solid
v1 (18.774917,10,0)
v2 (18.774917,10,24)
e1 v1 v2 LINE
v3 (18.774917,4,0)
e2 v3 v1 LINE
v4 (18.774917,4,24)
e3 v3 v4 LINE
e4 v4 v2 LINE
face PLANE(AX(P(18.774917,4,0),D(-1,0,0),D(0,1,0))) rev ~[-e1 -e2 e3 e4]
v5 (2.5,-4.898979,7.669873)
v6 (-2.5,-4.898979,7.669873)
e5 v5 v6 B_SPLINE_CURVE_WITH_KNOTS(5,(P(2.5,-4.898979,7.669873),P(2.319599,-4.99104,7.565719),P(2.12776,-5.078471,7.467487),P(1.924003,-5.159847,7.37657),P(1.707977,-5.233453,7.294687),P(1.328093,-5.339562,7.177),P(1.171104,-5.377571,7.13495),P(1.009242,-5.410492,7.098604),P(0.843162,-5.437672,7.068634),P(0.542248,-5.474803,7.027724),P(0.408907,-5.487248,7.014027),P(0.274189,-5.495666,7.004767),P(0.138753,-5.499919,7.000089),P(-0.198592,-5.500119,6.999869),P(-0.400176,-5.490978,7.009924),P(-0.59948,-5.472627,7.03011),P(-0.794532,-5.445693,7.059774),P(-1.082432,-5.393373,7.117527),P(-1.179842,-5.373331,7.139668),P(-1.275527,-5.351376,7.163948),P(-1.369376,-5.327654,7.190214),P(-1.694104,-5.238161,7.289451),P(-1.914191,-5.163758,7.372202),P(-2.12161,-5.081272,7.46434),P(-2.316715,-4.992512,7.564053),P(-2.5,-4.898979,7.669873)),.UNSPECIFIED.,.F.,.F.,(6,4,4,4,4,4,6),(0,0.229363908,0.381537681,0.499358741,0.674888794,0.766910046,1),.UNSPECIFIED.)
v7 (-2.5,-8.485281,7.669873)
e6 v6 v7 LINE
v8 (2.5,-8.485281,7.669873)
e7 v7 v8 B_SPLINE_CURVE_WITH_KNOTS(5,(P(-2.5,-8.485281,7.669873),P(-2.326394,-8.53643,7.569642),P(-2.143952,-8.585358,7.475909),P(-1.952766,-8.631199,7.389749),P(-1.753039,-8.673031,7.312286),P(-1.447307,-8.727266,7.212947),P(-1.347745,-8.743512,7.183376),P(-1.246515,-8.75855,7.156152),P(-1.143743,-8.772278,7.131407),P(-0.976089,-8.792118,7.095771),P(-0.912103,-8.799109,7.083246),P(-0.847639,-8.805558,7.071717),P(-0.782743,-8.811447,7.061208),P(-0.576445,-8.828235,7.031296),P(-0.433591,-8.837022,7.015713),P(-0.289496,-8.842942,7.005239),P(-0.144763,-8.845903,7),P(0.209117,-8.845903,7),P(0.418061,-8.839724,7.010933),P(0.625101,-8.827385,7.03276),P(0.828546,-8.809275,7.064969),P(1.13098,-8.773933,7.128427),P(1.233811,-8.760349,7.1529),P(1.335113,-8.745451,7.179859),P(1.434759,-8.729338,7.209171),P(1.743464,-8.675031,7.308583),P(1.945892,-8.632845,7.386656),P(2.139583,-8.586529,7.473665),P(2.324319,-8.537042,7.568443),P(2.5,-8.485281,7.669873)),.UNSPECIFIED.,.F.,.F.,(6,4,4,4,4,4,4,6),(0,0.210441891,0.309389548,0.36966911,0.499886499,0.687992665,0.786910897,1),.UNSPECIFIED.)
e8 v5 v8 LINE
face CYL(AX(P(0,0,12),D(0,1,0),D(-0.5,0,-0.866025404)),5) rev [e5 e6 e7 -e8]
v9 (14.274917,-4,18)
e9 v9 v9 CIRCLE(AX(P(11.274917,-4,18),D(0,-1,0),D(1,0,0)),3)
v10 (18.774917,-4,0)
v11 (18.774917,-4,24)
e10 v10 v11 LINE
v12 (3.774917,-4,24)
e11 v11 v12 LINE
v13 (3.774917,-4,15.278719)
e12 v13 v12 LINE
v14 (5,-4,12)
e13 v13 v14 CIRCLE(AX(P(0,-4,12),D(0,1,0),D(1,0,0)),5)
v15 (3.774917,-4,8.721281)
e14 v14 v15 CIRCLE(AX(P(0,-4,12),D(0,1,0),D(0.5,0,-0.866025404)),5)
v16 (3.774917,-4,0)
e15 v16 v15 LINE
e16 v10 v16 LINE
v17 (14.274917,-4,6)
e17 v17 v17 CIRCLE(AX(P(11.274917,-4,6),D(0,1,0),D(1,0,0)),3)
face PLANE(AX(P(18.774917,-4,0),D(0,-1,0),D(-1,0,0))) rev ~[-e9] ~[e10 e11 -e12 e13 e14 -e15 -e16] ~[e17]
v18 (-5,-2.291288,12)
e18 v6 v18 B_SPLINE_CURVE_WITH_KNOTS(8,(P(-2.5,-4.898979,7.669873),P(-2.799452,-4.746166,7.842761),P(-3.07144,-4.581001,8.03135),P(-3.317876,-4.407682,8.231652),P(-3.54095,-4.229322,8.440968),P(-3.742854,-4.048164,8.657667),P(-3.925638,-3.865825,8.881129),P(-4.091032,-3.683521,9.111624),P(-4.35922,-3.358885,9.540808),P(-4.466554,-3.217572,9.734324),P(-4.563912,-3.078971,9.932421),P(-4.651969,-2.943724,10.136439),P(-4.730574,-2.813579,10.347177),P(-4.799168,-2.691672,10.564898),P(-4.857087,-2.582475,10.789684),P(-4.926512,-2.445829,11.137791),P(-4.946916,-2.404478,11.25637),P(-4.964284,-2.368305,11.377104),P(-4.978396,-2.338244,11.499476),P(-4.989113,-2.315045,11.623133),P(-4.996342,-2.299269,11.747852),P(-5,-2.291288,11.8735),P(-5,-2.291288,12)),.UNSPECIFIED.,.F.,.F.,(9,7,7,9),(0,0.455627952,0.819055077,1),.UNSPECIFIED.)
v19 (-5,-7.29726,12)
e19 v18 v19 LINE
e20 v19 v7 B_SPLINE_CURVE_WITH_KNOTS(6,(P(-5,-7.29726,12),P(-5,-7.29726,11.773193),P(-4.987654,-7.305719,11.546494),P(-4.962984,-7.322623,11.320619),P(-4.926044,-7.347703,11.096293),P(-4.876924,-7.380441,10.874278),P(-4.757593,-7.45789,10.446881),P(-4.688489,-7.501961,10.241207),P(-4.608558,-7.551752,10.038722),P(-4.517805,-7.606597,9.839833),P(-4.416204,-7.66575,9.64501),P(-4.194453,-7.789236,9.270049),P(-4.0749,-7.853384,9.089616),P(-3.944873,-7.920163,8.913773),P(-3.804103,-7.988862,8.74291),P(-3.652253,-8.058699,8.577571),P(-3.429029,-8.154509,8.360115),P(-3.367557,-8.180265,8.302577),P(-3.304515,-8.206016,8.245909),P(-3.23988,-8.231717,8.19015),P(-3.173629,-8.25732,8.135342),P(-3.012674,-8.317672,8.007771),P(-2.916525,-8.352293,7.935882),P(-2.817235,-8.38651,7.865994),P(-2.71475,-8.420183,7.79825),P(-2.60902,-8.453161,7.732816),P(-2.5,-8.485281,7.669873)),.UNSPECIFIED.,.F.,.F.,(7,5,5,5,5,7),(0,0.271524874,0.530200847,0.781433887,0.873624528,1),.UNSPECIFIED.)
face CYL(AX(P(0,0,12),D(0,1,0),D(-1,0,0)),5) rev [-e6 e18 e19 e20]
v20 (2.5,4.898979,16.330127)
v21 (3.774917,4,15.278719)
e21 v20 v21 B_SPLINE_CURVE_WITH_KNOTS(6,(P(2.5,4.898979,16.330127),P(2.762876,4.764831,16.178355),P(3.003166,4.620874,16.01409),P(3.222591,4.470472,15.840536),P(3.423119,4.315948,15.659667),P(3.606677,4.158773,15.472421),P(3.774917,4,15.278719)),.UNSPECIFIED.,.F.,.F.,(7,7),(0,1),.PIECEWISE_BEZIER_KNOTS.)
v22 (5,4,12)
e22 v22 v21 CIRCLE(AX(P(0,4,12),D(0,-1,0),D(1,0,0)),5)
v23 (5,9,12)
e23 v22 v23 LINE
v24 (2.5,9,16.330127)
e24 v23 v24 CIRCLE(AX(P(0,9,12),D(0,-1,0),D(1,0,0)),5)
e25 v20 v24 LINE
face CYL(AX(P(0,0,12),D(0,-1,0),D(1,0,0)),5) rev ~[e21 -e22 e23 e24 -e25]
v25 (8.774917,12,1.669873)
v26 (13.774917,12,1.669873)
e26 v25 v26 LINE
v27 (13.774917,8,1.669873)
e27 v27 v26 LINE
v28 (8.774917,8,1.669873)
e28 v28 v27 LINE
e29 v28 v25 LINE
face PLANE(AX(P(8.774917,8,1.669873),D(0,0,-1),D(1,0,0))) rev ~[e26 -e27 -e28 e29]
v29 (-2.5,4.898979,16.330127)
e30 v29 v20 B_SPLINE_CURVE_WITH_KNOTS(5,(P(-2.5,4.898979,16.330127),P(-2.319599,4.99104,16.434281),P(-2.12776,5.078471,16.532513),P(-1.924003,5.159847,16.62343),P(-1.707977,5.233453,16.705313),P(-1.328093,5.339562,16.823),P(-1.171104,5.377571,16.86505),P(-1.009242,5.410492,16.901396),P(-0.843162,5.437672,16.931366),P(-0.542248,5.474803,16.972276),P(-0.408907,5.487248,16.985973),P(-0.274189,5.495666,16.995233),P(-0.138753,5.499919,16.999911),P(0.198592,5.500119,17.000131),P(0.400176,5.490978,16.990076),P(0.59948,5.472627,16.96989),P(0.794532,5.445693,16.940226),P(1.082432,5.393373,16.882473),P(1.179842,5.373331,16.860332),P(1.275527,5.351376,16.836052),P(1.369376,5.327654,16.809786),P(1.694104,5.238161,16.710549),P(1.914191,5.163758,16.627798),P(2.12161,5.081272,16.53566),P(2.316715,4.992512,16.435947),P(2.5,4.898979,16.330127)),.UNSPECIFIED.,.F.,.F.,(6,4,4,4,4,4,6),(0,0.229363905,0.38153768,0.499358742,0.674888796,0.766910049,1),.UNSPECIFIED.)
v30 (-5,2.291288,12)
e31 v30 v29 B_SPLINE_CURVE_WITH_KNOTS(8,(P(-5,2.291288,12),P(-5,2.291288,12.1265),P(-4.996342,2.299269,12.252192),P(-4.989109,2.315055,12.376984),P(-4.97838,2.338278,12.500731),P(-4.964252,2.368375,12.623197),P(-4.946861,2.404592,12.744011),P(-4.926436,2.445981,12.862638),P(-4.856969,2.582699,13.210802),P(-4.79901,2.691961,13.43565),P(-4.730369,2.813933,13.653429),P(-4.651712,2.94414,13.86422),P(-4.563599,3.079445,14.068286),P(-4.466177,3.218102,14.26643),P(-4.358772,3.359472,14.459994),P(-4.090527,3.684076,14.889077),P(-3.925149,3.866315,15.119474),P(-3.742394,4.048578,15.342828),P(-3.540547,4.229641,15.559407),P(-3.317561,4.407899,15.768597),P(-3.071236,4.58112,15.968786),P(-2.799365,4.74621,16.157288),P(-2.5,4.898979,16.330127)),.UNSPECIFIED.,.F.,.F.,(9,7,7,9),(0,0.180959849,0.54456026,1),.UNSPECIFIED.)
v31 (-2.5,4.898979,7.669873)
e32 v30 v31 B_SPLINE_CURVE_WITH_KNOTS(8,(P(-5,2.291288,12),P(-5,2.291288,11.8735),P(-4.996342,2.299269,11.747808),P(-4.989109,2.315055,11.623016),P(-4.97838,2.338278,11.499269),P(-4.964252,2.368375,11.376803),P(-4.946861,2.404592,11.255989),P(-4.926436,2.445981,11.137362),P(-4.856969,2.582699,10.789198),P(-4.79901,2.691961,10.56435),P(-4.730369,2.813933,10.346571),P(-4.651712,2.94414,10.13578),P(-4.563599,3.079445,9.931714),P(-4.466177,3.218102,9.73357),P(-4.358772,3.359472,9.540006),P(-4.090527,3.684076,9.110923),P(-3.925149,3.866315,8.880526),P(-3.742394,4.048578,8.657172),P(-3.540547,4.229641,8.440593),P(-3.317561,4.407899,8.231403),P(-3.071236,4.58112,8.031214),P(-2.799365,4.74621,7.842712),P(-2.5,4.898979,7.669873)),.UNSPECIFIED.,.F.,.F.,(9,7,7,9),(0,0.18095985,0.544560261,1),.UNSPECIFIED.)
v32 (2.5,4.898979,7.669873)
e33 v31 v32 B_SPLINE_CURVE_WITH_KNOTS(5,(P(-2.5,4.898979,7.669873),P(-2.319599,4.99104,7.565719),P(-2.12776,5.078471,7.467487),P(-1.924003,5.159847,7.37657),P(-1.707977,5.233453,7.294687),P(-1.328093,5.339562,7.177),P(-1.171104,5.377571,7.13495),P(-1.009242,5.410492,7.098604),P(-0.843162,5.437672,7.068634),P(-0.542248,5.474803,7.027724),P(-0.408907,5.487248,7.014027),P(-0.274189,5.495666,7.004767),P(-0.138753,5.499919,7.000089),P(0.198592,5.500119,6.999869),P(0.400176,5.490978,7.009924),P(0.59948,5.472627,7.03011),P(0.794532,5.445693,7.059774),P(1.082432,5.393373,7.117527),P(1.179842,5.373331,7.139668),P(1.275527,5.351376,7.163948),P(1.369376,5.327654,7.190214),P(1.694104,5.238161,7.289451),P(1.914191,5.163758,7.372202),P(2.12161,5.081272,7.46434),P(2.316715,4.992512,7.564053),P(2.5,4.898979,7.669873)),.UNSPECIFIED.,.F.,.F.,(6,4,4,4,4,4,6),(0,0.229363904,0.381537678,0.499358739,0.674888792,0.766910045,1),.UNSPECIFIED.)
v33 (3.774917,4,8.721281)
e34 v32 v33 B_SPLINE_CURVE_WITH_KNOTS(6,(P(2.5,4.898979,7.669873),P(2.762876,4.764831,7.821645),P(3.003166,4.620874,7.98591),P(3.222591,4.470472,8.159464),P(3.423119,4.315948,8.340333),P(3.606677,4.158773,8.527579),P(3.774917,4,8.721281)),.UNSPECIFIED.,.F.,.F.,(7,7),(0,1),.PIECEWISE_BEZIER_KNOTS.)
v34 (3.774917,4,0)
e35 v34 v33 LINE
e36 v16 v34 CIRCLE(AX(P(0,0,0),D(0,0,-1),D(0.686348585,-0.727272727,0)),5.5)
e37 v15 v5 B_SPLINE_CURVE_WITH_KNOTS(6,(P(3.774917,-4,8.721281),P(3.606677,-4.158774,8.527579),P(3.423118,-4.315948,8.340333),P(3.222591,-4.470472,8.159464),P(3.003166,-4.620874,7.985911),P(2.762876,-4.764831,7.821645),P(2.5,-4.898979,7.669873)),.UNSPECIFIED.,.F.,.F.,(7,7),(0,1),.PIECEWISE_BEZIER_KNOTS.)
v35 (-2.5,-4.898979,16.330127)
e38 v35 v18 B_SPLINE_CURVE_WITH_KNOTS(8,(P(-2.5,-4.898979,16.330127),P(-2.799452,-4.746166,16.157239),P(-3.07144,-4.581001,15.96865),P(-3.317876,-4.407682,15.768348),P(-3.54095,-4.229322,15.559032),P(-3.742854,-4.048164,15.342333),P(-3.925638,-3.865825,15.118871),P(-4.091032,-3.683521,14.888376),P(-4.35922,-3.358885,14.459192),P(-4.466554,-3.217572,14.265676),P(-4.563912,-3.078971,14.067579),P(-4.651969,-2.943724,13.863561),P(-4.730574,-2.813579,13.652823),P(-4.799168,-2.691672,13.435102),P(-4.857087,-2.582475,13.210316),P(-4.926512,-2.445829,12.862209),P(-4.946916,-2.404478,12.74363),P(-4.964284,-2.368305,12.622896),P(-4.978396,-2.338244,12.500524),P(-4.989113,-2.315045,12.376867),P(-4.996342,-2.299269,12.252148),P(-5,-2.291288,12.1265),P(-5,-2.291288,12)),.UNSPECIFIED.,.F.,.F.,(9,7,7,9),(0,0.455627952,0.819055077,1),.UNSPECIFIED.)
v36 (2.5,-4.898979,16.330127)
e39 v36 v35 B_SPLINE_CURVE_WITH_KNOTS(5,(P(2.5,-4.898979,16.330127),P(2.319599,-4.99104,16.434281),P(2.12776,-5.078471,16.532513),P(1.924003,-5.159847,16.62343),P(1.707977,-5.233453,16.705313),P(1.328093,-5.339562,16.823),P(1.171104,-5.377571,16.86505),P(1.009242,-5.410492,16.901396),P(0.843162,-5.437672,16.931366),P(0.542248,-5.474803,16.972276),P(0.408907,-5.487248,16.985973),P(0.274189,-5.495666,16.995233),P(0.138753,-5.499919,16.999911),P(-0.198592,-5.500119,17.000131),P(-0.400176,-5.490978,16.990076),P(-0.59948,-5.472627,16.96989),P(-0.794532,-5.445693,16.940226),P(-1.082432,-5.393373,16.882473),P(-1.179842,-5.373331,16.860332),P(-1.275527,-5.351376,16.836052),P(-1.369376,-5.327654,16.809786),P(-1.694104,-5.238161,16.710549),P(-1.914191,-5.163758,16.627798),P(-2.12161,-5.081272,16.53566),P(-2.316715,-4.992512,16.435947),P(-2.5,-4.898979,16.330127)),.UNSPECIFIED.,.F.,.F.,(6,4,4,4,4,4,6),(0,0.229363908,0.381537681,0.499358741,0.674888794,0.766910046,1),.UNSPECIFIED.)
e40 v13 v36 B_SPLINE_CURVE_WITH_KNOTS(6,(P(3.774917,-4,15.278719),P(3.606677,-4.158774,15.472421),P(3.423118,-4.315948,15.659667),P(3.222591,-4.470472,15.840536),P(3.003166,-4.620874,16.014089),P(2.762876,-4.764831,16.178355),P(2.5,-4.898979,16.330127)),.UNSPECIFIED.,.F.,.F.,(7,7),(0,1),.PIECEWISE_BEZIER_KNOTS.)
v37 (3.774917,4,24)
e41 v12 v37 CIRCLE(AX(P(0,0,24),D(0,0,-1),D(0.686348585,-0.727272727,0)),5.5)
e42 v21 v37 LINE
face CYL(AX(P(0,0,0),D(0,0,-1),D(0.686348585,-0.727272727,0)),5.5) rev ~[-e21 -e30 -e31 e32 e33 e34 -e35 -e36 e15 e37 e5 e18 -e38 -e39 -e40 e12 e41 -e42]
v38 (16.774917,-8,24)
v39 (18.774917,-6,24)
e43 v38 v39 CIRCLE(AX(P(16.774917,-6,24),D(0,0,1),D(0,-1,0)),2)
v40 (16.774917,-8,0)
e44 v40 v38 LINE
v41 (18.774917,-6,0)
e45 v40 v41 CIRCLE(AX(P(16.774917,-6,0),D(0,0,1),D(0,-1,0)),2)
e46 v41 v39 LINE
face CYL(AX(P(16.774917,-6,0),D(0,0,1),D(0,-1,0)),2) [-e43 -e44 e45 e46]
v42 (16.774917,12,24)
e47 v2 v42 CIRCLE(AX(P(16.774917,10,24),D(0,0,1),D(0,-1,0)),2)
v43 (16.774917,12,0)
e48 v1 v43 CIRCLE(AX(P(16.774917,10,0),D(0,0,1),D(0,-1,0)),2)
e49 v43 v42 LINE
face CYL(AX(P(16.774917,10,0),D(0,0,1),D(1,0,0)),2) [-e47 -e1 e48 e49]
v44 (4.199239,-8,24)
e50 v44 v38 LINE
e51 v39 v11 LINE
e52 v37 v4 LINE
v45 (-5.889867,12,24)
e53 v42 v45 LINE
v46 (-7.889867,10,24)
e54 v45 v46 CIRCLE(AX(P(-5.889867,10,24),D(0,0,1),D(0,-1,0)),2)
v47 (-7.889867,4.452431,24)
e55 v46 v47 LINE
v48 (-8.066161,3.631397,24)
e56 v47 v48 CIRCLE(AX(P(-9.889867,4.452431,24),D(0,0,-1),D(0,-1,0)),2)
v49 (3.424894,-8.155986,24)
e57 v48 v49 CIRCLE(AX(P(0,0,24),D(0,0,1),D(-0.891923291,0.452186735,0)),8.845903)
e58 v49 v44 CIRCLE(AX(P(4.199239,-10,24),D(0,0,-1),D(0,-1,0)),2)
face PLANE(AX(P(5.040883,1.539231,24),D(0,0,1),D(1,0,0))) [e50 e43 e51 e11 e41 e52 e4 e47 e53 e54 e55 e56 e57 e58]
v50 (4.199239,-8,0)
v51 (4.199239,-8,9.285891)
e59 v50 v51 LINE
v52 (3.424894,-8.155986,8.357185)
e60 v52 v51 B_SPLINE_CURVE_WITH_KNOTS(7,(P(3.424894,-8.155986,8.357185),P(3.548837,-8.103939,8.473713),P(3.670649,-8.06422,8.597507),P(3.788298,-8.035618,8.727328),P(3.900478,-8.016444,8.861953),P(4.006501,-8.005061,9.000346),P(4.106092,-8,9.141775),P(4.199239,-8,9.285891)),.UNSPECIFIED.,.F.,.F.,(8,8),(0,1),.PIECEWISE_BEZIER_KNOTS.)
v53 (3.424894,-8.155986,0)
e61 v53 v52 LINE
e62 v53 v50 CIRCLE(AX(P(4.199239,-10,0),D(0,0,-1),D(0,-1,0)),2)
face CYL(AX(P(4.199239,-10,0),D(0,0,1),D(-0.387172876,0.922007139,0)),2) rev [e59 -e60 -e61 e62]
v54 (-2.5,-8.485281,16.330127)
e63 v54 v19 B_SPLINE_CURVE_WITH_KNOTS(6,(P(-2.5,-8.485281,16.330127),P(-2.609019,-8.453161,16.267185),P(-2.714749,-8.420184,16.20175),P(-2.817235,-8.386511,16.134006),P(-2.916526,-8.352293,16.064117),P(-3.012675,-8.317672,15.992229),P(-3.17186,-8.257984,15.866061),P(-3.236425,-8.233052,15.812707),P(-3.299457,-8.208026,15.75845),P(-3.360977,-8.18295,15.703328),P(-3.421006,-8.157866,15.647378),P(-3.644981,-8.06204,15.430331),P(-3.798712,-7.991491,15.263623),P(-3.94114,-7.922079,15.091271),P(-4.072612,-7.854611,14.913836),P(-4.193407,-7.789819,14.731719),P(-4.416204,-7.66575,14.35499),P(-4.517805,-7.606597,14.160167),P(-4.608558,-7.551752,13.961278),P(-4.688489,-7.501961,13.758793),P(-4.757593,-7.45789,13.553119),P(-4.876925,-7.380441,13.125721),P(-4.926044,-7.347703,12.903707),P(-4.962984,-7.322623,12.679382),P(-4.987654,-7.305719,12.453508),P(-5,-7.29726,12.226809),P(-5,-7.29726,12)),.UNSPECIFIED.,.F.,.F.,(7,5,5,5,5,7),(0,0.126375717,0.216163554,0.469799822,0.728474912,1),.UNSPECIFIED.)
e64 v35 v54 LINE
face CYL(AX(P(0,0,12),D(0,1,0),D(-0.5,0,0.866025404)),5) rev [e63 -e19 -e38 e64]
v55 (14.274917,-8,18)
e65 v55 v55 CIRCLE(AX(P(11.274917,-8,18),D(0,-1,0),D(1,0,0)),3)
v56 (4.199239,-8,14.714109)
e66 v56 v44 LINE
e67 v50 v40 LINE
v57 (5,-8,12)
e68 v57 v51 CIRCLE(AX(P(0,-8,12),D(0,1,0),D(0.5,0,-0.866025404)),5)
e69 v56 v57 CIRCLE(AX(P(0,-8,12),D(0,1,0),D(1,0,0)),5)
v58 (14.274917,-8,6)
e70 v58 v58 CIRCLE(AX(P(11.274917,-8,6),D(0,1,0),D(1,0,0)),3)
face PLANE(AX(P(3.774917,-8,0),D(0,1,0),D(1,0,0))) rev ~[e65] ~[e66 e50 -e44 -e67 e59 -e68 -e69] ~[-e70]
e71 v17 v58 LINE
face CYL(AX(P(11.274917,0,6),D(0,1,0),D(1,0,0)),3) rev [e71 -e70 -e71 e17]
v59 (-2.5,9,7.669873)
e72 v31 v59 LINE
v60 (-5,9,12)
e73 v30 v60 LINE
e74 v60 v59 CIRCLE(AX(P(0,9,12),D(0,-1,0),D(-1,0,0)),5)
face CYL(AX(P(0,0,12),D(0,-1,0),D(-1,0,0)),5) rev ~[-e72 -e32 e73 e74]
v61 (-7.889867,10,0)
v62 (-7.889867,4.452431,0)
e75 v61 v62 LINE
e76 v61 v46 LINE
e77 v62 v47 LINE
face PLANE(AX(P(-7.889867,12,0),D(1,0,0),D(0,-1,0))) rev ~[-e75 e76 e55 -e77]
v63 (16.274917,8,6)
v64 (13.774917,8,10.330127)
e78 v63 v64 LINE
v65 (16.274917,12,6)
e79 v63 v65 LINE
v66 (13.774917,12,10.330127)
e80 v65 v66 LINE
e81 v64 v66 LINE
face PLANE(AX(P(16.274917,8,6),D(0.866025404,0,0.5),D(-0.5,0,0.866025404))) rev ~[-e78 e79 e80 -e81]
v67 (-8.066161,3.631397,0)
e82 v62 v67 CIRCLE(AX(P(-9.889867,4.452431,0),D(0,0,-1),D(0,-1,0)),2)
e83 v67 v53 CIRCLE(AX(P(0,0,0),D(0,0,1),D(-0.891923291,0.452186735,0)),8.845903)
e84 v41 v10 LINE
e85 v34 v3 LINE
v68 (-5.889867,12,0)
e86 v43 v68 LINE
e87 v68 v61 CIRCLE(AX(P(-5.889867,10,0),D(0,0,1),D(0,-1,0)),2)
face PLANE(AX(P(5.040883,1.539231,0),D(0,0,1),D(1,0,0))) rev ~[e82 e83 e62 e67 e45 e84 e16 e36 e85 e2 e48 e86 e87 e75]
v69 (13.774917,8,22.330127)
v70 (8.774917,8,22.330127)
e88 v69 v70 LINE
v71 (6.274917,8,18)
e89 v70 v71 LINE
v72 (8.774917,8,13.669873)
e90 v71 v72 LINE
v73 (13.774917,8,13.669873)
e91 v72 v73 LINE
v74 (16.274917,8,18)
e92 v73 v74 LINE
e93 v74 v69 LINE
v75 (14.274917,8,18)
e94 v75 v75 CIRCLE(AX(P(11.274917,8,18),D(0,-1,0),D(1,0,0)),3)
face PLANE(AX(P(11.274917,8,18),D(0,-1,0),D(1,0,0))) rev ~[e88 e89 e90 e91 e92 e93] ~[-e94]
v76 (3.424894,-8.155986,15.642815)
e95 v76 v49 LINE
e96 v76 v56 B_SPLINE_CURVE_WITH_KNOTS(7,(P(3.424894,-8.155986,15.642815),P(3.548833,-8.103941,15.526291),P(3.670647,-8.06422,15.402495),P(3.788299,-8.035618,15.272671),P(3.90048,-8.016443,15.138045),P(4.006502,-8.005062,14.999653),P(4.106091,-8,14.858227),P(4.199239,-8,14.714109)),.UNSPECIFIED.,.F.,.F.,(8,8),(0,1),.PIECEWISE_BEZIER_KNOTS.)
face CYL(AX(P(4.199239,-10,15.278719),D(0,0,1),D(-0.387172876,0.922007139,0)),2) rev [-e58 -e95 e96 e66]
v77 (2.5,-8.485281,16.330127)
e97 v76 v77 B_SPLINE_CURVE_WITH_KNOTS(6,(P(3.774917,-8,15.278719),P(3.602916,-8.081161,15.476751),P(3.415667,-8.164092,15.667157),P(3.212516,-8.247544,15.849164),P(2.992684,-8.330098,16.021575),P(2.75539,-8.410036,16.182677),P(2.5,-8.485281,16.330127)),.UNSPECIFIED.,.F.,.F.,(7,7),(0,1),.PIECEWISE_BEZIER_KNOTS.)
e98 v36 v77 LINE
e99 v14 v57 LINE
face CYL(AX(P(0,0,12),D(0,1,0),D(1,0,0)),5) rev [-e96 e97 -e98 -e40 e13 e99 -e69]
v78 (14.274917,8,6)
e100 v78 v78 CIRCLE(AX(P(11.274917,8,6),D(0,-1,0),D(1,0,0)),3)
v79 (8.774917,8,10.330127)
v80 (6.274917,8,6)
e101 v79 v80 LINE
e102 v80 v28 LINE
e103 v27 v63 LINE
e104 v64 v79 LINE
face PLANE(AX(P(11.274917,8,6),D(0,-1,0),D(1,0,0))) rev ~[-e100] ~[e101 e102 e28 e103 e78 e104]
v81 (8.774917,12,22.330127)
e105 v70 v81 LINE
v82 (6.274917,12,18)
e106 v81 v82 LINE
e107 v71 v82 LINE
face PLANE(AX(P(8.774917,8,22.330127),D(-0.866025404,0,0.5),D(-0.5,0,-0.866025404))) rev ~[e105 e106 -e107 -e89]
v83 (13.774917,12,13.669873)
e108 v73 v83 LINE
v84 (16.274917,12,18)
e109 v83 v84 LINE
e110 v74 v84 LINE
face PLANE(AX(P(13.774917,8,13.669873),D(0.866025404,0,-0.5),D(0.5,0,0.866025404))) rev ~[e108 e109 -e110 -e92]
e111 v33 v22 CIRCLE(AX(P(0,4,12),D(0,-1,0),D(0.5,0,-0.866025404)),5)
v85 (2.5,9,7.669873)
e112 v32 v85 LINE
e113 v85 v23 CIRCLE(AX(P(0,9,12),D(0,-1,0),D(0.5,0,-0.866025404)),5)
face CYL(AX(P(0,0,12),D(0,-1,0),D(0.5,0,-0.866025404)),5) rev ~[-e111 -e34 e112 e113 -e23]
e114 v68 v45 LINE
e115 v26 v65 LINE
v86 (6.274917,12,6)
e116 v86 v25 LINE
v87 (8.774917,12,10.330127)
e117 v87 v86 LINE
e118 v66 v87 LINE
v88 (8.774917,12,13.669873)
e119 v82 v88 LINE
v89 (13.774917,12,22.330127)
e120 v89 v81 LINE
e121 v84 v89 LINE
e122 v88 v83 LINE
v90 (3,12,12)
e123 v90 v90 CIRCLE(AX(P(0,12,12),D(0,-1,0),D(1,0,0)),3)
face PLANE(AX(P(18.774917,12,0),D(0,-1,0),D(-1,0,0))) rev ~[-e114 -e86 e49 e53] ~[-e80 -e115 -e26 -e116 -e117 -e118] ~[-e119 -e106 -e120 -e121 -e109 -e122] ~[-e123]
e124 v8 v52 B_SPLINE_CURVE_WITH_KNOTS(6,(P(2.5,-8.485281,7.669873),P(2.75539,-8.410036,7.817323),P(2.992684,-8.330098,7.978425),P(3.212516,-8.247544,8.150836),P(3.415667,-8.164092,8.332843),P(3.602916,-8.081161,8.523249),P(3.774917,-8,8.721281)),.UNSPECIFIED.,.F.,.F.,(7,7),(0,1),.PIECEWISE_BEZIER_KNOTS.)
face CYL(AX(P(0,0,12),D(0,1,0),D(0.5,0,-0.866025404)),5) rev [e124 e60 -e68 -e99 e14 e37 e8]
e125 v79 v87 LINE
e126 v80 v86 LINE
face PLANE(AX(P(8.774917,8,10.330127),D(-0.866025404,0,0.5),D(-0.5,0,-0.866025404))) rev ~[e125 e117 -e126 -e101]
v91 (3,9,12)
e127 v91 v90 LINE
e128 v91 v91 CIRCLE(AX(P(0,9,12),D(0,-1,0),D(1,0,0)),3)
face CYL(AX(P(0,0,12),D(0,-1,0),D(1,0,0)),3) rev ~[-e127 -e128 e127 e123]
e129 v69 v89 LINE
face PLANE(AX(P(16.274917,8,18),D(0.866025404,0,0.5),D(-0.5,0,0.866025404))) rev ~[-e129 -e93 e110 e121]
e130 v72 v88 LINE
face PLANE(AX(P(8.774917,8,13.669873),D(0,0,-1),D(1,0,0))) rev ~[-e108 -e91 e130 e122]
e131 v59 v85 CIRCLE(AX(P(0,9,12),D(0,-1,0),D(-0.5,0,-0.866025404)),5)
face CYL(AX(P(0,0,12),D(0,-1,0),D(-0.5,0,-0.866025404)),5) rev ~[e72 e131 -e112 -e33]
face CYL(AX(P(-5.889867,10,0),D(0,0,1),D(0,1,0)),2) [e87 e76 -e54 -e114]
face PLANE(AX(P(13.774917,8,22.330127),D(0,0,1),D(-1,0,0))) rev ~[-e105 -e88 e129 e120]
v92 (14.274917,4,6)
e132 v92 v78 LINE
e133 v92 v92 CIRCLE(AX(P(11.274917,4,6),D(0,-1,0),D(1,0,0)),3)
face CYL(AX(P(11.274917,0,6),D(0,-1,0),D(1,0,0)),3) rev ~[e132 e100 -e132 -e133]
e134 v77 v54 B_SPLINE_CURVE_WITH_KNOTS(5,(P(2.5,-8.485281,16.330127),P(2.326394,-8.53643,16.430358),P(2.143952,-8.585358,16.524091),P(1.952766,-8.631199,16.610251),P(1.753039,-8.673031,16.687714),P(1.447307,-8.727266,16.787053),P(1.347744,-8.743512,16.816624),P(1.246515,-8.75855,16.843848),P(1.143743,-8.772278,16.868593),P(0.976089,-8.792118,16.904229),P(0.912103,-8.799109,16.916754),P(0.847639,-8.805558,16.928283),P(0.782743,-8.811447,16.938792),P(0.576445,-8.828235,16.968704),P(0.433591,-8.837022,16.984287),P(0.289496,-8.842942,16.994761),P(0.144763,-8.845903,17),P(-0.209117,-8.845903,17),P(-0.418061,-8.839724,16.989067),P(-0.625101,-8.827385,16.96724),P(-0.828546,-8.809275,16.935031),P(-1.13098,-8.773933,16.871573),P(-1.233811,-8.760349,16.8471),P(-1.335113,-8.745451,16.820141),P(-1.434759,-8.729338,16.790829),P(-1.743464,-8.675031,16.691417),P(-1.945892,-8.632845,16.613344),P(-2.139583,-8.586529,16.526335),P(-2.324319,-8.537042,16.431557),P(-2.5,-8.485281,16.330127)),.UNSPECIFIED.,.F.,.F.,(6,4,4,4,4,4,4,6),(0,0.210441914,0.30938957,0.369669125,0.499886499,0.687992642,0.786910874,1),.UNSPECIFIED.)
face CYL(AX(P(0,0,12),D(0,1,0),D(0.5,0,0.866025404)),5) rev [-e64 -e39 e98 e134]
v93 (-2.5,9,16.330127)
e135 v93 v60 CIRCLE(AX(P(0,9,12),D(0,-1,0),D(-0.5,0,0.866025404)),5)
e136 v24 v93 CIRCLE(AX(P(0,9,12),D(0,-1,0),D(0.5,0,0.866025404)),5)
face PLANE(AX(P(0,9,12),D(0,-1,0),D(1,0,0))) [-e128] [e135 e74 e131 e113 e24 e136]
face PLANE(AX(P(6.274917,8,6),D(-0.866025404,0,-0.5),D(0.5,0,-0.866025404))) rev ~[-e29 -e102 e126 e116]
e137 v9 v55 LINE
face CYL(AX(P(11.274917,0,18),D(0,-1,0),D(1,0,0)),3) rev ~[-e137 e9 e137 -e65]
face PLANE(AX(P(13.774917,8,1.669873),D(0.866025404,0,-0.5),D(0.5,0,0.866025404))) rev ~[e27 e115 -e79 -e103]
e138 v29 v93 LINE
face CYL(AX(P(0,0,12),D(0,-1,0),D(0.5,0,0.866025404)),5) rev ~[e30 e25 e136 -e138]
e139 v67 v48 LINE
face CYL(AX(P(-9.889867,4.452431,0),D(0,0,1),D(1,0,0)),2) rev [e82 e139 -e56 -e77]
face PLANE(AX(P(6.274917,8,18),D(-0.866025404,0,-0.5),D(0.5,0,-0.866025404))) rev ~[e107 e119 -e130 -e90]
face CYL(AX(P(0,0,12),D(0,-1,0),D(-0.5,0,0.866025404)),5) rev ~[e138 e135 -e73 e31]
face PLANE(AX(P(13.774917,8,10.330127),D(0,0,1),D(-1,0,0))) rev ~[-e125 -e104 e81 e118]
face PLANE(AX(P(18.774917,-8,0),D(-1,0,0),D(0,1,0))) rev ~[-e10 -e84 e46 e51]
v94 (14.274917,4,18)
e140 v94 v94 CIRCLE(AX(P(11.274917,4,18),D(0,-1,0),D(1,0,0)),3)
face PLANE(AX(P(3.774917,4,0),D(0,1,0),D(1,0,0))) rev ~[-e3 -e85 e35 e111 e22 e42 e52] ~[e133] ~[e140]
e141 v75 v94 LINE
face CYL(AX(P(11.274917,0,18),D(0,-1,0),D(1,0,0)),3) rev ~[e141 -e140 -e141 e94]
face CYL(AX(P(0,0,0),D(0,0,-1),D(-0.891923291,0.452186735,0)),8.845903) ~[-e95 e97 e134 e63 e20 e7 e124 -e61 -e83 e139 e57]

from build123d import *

# Parameters (mm, degrees)
F1_DEPTH = 24
F2_R     = 3
F3_DEPTH = 25
F4_START = -8
F4_DEPTH = 17
F5_DEPTH = 25
F6_DEPTH = 9
F7_DEPTH = 25
F8_R     = 2


with BuildPart() as f1:
    # F0 (on Top) → F1 (new body)
    with BuildSketch(Plane.XY):
        with BuildLine():
            ThreePointArc((3.7749172176, -4), (-5.5, 0), (3.7749172176, 4))
            Line((3.7749172176, 4), (18.7749172176, 4))
            Line((18.7749172176, 4), (18.7749172176, 8))
            Line((18.7749172176, 8), (18.7749172176, 12))
            Line((18.7749172176, 12), (3.7749172176, 12))
            Line((3.7749172176, 12), (-7.889866919, 12))
            Line((-7.889866919, 12), (-7.889866919, 4))
            ThreePointArc((-7.889866919, 4), (-6.3429648242, -6.1657762884), (3.7749172176, -8))
            Line((3.7749172176, -8), (18.7749172176, -8))
            Line((18.7749172176, -8), (18.7749172176, -4))
            Line((18.7749172176, -4), (3.7749172176, -4))
        make_face()
    extrude(amount=F1_DEPTH)

    # F2 (on Front) → F3 (cut, symmetric)
    with BuildSketch(Plane.XZ):
        with Locations((11.2749172176, 6)):
            Circle(F2_R)
        with Locations((11.2749172176, 18)):
            Circle(F2_R)
    extrude(amount=F3_DEPTH, both=True, mode=Mode.SUBTRACT)

    # F2 (on Front) → F4 (cut)
    with BuildSketch(Plane.XZ.offset(F4_START)):
        Polygon((13.7749172176, 13.6698729811), (16.2749172176, 18), (13.7749172176, 22.3301270189), (8.7749172176, 22.3301270189), (6.2749172176, 18), (8.7749172176, 13.6698729811), align=None)
        with Locations((11.2749172176, 18)):
            Circle(F2_R, mode=Mode.SUBTRACT)
        Polygon((8.7749172176, 10.3301270189), (6.2749172176, 6), (8.7749172176, 1.6698729811), (13.7749172176, 1.6698729811), (16.2749172176, 6), (13.7749172176, 10.3301270189), align=None)
        with Locations((11.2749172176, 6)):
            Circle(F2_R, mode=Mode.SUBTRACT)
    extrude(amount=-F4_DEPTH, mode=Mode.SUBTRACT)

    # F2 (on Front) → F5 (cut)
    with BuildSketch(Plane.XZ):
        with Locations((0, 12)):
            Circle(F2_R)
    extrude(amount=-F5_DEPTH, mode=Mode.SUBTRACT)

    # F2 (on Front) → F6 (cut)
    with BuildSketch(Plane.XZ):
        Polygon((2.5, 7.6698729811), (5, 12), (2.5, 16.3301270189), (-2.5, 16.3301270189), (-5, 12), (-2.5, 7.6698729811), align=None)
        with Locations((0, 12)):
            Circle(F2_R, mode=Mode.SUBTRACT)
        with Locations((0, 12)):
            Circle(F2_R)
        with BuildLine():
            ThreePointArc((2.5, 7.6698729811), (4.3301270189, 9.5), (5, 12))
            Line((5, 12), (2.5, 7.6698729811))
        make_face()
        with BuildLine():
            Line((2.5, 16.3301270189), (5, 12))
            ThreePointArc((5, 12), (4.3301270189, 14.5), (2.5, 16.3301270189))
        make_face()
        with BuildLine():
            Line((-2.5, 16.3301270189), (2.5, 16.3301270189))
            ThreePointArc((2.5, 16.3301270189), (0, 17), (-2.5, 16.3301270189))
        make_face()
        with BuildLine():
            Line((-5, 12), (-2.5, 16.3301270189))
            ThreePointArc((-2.5, 16.3301270189), (-4.3301270189, 14.5), (-5, 12))
        make_face()
        with BuildLine():
            ThreePointArc((-5, 12), (-4.3301270189, 9.5), (-2.5, 7.6698729811))
            Line((-2.5, 7.6698729811), (-5, 12))
        make_face()
        with BuildLine():
            ThreePointArc((-2.5, 7.6698729811), (0, 7), (2.5, 7.6698729811))
            Line((2.5, 7.6698729811), (-2.5, 7.6698729811))
        make_face()
    extrude(amount=-F6_DEPTH, mode=Mode.SUBTRACT)

    # F2 (on Front) → F7 (cut)
    with BuildSketch(Plane.XZ):
        with BuildLine():
            Line((-2.5, 16.3301270189), (2.5, 16.3301270189))
            ThreePointArc((2.5, 16.3301270189), (0, 17), (-2.5, 16.3301270189))
        make_face()
        Polygon((2.5, 7.6698729811), (5, 12), (2.5, 16.3301270189), (-2.5, 16.3301270189), (-5, 12), (-2.5, 7.6698729811), align=None)
        with Locations((0, 12)):
            Circle(F2_R, mode=Mode.SUBTRACT)
        with BuildLine():
            Line((2.5, 16.3301270189), (5, 12))
            ThreePointArc((5, 12), (4.3301270189, 14.5), (2.5, 16.3301270189))
        make_face()
        with BuildLine():
            ThreePointArc((2.5, 7.6698729811), (4.3301270189, 9.5), (5, 12))
            Line((5, 12), (2.5, 7.6698729811))
        make_face()
        with BuildLine():
            ThreePointArc((-2.5, 7.6698729811), (0, 7), (2.5, 7.6698729811))
            Line((2.5, 7.6698729811), (-2.5, 7.6698729811))
        make_face()
        with BuildLine():
            ThreePointArc((-5, 12), (-4.3301270189, 9.5), (-2.5, 7.6698729811))
            Line((-2.5, 7.6698729811), (-5, 12))
        make_face()
        with BuildLine():
            Line((-5, 12), (-2.5, 16.3301270189))
            ThreePointArc((-2.5, 16.3301270189), (-4.3301270189, 14.5), (-5, 12))
        make_face()
        with Locations((0, 12)):
            Circle(F2_R)
    extrude(amount=F7_DEPTH, mode=Mode.SUBTRACT)

    # F8
    f8_edges = [f1.edges().sort_by_distance(p)[0] for p in [
        (-7.889867, 12, 12),
        (-7.889867, 4, 12),
        (18.774917, -8, 12),
        (18.774917, 12, 12),
        (3.774917, -8, 19.63936),
        (3.774917, -8, 4.36064),
    ]]
    fillet(f8_edges, radius=F8_R)


solid = f1.part
